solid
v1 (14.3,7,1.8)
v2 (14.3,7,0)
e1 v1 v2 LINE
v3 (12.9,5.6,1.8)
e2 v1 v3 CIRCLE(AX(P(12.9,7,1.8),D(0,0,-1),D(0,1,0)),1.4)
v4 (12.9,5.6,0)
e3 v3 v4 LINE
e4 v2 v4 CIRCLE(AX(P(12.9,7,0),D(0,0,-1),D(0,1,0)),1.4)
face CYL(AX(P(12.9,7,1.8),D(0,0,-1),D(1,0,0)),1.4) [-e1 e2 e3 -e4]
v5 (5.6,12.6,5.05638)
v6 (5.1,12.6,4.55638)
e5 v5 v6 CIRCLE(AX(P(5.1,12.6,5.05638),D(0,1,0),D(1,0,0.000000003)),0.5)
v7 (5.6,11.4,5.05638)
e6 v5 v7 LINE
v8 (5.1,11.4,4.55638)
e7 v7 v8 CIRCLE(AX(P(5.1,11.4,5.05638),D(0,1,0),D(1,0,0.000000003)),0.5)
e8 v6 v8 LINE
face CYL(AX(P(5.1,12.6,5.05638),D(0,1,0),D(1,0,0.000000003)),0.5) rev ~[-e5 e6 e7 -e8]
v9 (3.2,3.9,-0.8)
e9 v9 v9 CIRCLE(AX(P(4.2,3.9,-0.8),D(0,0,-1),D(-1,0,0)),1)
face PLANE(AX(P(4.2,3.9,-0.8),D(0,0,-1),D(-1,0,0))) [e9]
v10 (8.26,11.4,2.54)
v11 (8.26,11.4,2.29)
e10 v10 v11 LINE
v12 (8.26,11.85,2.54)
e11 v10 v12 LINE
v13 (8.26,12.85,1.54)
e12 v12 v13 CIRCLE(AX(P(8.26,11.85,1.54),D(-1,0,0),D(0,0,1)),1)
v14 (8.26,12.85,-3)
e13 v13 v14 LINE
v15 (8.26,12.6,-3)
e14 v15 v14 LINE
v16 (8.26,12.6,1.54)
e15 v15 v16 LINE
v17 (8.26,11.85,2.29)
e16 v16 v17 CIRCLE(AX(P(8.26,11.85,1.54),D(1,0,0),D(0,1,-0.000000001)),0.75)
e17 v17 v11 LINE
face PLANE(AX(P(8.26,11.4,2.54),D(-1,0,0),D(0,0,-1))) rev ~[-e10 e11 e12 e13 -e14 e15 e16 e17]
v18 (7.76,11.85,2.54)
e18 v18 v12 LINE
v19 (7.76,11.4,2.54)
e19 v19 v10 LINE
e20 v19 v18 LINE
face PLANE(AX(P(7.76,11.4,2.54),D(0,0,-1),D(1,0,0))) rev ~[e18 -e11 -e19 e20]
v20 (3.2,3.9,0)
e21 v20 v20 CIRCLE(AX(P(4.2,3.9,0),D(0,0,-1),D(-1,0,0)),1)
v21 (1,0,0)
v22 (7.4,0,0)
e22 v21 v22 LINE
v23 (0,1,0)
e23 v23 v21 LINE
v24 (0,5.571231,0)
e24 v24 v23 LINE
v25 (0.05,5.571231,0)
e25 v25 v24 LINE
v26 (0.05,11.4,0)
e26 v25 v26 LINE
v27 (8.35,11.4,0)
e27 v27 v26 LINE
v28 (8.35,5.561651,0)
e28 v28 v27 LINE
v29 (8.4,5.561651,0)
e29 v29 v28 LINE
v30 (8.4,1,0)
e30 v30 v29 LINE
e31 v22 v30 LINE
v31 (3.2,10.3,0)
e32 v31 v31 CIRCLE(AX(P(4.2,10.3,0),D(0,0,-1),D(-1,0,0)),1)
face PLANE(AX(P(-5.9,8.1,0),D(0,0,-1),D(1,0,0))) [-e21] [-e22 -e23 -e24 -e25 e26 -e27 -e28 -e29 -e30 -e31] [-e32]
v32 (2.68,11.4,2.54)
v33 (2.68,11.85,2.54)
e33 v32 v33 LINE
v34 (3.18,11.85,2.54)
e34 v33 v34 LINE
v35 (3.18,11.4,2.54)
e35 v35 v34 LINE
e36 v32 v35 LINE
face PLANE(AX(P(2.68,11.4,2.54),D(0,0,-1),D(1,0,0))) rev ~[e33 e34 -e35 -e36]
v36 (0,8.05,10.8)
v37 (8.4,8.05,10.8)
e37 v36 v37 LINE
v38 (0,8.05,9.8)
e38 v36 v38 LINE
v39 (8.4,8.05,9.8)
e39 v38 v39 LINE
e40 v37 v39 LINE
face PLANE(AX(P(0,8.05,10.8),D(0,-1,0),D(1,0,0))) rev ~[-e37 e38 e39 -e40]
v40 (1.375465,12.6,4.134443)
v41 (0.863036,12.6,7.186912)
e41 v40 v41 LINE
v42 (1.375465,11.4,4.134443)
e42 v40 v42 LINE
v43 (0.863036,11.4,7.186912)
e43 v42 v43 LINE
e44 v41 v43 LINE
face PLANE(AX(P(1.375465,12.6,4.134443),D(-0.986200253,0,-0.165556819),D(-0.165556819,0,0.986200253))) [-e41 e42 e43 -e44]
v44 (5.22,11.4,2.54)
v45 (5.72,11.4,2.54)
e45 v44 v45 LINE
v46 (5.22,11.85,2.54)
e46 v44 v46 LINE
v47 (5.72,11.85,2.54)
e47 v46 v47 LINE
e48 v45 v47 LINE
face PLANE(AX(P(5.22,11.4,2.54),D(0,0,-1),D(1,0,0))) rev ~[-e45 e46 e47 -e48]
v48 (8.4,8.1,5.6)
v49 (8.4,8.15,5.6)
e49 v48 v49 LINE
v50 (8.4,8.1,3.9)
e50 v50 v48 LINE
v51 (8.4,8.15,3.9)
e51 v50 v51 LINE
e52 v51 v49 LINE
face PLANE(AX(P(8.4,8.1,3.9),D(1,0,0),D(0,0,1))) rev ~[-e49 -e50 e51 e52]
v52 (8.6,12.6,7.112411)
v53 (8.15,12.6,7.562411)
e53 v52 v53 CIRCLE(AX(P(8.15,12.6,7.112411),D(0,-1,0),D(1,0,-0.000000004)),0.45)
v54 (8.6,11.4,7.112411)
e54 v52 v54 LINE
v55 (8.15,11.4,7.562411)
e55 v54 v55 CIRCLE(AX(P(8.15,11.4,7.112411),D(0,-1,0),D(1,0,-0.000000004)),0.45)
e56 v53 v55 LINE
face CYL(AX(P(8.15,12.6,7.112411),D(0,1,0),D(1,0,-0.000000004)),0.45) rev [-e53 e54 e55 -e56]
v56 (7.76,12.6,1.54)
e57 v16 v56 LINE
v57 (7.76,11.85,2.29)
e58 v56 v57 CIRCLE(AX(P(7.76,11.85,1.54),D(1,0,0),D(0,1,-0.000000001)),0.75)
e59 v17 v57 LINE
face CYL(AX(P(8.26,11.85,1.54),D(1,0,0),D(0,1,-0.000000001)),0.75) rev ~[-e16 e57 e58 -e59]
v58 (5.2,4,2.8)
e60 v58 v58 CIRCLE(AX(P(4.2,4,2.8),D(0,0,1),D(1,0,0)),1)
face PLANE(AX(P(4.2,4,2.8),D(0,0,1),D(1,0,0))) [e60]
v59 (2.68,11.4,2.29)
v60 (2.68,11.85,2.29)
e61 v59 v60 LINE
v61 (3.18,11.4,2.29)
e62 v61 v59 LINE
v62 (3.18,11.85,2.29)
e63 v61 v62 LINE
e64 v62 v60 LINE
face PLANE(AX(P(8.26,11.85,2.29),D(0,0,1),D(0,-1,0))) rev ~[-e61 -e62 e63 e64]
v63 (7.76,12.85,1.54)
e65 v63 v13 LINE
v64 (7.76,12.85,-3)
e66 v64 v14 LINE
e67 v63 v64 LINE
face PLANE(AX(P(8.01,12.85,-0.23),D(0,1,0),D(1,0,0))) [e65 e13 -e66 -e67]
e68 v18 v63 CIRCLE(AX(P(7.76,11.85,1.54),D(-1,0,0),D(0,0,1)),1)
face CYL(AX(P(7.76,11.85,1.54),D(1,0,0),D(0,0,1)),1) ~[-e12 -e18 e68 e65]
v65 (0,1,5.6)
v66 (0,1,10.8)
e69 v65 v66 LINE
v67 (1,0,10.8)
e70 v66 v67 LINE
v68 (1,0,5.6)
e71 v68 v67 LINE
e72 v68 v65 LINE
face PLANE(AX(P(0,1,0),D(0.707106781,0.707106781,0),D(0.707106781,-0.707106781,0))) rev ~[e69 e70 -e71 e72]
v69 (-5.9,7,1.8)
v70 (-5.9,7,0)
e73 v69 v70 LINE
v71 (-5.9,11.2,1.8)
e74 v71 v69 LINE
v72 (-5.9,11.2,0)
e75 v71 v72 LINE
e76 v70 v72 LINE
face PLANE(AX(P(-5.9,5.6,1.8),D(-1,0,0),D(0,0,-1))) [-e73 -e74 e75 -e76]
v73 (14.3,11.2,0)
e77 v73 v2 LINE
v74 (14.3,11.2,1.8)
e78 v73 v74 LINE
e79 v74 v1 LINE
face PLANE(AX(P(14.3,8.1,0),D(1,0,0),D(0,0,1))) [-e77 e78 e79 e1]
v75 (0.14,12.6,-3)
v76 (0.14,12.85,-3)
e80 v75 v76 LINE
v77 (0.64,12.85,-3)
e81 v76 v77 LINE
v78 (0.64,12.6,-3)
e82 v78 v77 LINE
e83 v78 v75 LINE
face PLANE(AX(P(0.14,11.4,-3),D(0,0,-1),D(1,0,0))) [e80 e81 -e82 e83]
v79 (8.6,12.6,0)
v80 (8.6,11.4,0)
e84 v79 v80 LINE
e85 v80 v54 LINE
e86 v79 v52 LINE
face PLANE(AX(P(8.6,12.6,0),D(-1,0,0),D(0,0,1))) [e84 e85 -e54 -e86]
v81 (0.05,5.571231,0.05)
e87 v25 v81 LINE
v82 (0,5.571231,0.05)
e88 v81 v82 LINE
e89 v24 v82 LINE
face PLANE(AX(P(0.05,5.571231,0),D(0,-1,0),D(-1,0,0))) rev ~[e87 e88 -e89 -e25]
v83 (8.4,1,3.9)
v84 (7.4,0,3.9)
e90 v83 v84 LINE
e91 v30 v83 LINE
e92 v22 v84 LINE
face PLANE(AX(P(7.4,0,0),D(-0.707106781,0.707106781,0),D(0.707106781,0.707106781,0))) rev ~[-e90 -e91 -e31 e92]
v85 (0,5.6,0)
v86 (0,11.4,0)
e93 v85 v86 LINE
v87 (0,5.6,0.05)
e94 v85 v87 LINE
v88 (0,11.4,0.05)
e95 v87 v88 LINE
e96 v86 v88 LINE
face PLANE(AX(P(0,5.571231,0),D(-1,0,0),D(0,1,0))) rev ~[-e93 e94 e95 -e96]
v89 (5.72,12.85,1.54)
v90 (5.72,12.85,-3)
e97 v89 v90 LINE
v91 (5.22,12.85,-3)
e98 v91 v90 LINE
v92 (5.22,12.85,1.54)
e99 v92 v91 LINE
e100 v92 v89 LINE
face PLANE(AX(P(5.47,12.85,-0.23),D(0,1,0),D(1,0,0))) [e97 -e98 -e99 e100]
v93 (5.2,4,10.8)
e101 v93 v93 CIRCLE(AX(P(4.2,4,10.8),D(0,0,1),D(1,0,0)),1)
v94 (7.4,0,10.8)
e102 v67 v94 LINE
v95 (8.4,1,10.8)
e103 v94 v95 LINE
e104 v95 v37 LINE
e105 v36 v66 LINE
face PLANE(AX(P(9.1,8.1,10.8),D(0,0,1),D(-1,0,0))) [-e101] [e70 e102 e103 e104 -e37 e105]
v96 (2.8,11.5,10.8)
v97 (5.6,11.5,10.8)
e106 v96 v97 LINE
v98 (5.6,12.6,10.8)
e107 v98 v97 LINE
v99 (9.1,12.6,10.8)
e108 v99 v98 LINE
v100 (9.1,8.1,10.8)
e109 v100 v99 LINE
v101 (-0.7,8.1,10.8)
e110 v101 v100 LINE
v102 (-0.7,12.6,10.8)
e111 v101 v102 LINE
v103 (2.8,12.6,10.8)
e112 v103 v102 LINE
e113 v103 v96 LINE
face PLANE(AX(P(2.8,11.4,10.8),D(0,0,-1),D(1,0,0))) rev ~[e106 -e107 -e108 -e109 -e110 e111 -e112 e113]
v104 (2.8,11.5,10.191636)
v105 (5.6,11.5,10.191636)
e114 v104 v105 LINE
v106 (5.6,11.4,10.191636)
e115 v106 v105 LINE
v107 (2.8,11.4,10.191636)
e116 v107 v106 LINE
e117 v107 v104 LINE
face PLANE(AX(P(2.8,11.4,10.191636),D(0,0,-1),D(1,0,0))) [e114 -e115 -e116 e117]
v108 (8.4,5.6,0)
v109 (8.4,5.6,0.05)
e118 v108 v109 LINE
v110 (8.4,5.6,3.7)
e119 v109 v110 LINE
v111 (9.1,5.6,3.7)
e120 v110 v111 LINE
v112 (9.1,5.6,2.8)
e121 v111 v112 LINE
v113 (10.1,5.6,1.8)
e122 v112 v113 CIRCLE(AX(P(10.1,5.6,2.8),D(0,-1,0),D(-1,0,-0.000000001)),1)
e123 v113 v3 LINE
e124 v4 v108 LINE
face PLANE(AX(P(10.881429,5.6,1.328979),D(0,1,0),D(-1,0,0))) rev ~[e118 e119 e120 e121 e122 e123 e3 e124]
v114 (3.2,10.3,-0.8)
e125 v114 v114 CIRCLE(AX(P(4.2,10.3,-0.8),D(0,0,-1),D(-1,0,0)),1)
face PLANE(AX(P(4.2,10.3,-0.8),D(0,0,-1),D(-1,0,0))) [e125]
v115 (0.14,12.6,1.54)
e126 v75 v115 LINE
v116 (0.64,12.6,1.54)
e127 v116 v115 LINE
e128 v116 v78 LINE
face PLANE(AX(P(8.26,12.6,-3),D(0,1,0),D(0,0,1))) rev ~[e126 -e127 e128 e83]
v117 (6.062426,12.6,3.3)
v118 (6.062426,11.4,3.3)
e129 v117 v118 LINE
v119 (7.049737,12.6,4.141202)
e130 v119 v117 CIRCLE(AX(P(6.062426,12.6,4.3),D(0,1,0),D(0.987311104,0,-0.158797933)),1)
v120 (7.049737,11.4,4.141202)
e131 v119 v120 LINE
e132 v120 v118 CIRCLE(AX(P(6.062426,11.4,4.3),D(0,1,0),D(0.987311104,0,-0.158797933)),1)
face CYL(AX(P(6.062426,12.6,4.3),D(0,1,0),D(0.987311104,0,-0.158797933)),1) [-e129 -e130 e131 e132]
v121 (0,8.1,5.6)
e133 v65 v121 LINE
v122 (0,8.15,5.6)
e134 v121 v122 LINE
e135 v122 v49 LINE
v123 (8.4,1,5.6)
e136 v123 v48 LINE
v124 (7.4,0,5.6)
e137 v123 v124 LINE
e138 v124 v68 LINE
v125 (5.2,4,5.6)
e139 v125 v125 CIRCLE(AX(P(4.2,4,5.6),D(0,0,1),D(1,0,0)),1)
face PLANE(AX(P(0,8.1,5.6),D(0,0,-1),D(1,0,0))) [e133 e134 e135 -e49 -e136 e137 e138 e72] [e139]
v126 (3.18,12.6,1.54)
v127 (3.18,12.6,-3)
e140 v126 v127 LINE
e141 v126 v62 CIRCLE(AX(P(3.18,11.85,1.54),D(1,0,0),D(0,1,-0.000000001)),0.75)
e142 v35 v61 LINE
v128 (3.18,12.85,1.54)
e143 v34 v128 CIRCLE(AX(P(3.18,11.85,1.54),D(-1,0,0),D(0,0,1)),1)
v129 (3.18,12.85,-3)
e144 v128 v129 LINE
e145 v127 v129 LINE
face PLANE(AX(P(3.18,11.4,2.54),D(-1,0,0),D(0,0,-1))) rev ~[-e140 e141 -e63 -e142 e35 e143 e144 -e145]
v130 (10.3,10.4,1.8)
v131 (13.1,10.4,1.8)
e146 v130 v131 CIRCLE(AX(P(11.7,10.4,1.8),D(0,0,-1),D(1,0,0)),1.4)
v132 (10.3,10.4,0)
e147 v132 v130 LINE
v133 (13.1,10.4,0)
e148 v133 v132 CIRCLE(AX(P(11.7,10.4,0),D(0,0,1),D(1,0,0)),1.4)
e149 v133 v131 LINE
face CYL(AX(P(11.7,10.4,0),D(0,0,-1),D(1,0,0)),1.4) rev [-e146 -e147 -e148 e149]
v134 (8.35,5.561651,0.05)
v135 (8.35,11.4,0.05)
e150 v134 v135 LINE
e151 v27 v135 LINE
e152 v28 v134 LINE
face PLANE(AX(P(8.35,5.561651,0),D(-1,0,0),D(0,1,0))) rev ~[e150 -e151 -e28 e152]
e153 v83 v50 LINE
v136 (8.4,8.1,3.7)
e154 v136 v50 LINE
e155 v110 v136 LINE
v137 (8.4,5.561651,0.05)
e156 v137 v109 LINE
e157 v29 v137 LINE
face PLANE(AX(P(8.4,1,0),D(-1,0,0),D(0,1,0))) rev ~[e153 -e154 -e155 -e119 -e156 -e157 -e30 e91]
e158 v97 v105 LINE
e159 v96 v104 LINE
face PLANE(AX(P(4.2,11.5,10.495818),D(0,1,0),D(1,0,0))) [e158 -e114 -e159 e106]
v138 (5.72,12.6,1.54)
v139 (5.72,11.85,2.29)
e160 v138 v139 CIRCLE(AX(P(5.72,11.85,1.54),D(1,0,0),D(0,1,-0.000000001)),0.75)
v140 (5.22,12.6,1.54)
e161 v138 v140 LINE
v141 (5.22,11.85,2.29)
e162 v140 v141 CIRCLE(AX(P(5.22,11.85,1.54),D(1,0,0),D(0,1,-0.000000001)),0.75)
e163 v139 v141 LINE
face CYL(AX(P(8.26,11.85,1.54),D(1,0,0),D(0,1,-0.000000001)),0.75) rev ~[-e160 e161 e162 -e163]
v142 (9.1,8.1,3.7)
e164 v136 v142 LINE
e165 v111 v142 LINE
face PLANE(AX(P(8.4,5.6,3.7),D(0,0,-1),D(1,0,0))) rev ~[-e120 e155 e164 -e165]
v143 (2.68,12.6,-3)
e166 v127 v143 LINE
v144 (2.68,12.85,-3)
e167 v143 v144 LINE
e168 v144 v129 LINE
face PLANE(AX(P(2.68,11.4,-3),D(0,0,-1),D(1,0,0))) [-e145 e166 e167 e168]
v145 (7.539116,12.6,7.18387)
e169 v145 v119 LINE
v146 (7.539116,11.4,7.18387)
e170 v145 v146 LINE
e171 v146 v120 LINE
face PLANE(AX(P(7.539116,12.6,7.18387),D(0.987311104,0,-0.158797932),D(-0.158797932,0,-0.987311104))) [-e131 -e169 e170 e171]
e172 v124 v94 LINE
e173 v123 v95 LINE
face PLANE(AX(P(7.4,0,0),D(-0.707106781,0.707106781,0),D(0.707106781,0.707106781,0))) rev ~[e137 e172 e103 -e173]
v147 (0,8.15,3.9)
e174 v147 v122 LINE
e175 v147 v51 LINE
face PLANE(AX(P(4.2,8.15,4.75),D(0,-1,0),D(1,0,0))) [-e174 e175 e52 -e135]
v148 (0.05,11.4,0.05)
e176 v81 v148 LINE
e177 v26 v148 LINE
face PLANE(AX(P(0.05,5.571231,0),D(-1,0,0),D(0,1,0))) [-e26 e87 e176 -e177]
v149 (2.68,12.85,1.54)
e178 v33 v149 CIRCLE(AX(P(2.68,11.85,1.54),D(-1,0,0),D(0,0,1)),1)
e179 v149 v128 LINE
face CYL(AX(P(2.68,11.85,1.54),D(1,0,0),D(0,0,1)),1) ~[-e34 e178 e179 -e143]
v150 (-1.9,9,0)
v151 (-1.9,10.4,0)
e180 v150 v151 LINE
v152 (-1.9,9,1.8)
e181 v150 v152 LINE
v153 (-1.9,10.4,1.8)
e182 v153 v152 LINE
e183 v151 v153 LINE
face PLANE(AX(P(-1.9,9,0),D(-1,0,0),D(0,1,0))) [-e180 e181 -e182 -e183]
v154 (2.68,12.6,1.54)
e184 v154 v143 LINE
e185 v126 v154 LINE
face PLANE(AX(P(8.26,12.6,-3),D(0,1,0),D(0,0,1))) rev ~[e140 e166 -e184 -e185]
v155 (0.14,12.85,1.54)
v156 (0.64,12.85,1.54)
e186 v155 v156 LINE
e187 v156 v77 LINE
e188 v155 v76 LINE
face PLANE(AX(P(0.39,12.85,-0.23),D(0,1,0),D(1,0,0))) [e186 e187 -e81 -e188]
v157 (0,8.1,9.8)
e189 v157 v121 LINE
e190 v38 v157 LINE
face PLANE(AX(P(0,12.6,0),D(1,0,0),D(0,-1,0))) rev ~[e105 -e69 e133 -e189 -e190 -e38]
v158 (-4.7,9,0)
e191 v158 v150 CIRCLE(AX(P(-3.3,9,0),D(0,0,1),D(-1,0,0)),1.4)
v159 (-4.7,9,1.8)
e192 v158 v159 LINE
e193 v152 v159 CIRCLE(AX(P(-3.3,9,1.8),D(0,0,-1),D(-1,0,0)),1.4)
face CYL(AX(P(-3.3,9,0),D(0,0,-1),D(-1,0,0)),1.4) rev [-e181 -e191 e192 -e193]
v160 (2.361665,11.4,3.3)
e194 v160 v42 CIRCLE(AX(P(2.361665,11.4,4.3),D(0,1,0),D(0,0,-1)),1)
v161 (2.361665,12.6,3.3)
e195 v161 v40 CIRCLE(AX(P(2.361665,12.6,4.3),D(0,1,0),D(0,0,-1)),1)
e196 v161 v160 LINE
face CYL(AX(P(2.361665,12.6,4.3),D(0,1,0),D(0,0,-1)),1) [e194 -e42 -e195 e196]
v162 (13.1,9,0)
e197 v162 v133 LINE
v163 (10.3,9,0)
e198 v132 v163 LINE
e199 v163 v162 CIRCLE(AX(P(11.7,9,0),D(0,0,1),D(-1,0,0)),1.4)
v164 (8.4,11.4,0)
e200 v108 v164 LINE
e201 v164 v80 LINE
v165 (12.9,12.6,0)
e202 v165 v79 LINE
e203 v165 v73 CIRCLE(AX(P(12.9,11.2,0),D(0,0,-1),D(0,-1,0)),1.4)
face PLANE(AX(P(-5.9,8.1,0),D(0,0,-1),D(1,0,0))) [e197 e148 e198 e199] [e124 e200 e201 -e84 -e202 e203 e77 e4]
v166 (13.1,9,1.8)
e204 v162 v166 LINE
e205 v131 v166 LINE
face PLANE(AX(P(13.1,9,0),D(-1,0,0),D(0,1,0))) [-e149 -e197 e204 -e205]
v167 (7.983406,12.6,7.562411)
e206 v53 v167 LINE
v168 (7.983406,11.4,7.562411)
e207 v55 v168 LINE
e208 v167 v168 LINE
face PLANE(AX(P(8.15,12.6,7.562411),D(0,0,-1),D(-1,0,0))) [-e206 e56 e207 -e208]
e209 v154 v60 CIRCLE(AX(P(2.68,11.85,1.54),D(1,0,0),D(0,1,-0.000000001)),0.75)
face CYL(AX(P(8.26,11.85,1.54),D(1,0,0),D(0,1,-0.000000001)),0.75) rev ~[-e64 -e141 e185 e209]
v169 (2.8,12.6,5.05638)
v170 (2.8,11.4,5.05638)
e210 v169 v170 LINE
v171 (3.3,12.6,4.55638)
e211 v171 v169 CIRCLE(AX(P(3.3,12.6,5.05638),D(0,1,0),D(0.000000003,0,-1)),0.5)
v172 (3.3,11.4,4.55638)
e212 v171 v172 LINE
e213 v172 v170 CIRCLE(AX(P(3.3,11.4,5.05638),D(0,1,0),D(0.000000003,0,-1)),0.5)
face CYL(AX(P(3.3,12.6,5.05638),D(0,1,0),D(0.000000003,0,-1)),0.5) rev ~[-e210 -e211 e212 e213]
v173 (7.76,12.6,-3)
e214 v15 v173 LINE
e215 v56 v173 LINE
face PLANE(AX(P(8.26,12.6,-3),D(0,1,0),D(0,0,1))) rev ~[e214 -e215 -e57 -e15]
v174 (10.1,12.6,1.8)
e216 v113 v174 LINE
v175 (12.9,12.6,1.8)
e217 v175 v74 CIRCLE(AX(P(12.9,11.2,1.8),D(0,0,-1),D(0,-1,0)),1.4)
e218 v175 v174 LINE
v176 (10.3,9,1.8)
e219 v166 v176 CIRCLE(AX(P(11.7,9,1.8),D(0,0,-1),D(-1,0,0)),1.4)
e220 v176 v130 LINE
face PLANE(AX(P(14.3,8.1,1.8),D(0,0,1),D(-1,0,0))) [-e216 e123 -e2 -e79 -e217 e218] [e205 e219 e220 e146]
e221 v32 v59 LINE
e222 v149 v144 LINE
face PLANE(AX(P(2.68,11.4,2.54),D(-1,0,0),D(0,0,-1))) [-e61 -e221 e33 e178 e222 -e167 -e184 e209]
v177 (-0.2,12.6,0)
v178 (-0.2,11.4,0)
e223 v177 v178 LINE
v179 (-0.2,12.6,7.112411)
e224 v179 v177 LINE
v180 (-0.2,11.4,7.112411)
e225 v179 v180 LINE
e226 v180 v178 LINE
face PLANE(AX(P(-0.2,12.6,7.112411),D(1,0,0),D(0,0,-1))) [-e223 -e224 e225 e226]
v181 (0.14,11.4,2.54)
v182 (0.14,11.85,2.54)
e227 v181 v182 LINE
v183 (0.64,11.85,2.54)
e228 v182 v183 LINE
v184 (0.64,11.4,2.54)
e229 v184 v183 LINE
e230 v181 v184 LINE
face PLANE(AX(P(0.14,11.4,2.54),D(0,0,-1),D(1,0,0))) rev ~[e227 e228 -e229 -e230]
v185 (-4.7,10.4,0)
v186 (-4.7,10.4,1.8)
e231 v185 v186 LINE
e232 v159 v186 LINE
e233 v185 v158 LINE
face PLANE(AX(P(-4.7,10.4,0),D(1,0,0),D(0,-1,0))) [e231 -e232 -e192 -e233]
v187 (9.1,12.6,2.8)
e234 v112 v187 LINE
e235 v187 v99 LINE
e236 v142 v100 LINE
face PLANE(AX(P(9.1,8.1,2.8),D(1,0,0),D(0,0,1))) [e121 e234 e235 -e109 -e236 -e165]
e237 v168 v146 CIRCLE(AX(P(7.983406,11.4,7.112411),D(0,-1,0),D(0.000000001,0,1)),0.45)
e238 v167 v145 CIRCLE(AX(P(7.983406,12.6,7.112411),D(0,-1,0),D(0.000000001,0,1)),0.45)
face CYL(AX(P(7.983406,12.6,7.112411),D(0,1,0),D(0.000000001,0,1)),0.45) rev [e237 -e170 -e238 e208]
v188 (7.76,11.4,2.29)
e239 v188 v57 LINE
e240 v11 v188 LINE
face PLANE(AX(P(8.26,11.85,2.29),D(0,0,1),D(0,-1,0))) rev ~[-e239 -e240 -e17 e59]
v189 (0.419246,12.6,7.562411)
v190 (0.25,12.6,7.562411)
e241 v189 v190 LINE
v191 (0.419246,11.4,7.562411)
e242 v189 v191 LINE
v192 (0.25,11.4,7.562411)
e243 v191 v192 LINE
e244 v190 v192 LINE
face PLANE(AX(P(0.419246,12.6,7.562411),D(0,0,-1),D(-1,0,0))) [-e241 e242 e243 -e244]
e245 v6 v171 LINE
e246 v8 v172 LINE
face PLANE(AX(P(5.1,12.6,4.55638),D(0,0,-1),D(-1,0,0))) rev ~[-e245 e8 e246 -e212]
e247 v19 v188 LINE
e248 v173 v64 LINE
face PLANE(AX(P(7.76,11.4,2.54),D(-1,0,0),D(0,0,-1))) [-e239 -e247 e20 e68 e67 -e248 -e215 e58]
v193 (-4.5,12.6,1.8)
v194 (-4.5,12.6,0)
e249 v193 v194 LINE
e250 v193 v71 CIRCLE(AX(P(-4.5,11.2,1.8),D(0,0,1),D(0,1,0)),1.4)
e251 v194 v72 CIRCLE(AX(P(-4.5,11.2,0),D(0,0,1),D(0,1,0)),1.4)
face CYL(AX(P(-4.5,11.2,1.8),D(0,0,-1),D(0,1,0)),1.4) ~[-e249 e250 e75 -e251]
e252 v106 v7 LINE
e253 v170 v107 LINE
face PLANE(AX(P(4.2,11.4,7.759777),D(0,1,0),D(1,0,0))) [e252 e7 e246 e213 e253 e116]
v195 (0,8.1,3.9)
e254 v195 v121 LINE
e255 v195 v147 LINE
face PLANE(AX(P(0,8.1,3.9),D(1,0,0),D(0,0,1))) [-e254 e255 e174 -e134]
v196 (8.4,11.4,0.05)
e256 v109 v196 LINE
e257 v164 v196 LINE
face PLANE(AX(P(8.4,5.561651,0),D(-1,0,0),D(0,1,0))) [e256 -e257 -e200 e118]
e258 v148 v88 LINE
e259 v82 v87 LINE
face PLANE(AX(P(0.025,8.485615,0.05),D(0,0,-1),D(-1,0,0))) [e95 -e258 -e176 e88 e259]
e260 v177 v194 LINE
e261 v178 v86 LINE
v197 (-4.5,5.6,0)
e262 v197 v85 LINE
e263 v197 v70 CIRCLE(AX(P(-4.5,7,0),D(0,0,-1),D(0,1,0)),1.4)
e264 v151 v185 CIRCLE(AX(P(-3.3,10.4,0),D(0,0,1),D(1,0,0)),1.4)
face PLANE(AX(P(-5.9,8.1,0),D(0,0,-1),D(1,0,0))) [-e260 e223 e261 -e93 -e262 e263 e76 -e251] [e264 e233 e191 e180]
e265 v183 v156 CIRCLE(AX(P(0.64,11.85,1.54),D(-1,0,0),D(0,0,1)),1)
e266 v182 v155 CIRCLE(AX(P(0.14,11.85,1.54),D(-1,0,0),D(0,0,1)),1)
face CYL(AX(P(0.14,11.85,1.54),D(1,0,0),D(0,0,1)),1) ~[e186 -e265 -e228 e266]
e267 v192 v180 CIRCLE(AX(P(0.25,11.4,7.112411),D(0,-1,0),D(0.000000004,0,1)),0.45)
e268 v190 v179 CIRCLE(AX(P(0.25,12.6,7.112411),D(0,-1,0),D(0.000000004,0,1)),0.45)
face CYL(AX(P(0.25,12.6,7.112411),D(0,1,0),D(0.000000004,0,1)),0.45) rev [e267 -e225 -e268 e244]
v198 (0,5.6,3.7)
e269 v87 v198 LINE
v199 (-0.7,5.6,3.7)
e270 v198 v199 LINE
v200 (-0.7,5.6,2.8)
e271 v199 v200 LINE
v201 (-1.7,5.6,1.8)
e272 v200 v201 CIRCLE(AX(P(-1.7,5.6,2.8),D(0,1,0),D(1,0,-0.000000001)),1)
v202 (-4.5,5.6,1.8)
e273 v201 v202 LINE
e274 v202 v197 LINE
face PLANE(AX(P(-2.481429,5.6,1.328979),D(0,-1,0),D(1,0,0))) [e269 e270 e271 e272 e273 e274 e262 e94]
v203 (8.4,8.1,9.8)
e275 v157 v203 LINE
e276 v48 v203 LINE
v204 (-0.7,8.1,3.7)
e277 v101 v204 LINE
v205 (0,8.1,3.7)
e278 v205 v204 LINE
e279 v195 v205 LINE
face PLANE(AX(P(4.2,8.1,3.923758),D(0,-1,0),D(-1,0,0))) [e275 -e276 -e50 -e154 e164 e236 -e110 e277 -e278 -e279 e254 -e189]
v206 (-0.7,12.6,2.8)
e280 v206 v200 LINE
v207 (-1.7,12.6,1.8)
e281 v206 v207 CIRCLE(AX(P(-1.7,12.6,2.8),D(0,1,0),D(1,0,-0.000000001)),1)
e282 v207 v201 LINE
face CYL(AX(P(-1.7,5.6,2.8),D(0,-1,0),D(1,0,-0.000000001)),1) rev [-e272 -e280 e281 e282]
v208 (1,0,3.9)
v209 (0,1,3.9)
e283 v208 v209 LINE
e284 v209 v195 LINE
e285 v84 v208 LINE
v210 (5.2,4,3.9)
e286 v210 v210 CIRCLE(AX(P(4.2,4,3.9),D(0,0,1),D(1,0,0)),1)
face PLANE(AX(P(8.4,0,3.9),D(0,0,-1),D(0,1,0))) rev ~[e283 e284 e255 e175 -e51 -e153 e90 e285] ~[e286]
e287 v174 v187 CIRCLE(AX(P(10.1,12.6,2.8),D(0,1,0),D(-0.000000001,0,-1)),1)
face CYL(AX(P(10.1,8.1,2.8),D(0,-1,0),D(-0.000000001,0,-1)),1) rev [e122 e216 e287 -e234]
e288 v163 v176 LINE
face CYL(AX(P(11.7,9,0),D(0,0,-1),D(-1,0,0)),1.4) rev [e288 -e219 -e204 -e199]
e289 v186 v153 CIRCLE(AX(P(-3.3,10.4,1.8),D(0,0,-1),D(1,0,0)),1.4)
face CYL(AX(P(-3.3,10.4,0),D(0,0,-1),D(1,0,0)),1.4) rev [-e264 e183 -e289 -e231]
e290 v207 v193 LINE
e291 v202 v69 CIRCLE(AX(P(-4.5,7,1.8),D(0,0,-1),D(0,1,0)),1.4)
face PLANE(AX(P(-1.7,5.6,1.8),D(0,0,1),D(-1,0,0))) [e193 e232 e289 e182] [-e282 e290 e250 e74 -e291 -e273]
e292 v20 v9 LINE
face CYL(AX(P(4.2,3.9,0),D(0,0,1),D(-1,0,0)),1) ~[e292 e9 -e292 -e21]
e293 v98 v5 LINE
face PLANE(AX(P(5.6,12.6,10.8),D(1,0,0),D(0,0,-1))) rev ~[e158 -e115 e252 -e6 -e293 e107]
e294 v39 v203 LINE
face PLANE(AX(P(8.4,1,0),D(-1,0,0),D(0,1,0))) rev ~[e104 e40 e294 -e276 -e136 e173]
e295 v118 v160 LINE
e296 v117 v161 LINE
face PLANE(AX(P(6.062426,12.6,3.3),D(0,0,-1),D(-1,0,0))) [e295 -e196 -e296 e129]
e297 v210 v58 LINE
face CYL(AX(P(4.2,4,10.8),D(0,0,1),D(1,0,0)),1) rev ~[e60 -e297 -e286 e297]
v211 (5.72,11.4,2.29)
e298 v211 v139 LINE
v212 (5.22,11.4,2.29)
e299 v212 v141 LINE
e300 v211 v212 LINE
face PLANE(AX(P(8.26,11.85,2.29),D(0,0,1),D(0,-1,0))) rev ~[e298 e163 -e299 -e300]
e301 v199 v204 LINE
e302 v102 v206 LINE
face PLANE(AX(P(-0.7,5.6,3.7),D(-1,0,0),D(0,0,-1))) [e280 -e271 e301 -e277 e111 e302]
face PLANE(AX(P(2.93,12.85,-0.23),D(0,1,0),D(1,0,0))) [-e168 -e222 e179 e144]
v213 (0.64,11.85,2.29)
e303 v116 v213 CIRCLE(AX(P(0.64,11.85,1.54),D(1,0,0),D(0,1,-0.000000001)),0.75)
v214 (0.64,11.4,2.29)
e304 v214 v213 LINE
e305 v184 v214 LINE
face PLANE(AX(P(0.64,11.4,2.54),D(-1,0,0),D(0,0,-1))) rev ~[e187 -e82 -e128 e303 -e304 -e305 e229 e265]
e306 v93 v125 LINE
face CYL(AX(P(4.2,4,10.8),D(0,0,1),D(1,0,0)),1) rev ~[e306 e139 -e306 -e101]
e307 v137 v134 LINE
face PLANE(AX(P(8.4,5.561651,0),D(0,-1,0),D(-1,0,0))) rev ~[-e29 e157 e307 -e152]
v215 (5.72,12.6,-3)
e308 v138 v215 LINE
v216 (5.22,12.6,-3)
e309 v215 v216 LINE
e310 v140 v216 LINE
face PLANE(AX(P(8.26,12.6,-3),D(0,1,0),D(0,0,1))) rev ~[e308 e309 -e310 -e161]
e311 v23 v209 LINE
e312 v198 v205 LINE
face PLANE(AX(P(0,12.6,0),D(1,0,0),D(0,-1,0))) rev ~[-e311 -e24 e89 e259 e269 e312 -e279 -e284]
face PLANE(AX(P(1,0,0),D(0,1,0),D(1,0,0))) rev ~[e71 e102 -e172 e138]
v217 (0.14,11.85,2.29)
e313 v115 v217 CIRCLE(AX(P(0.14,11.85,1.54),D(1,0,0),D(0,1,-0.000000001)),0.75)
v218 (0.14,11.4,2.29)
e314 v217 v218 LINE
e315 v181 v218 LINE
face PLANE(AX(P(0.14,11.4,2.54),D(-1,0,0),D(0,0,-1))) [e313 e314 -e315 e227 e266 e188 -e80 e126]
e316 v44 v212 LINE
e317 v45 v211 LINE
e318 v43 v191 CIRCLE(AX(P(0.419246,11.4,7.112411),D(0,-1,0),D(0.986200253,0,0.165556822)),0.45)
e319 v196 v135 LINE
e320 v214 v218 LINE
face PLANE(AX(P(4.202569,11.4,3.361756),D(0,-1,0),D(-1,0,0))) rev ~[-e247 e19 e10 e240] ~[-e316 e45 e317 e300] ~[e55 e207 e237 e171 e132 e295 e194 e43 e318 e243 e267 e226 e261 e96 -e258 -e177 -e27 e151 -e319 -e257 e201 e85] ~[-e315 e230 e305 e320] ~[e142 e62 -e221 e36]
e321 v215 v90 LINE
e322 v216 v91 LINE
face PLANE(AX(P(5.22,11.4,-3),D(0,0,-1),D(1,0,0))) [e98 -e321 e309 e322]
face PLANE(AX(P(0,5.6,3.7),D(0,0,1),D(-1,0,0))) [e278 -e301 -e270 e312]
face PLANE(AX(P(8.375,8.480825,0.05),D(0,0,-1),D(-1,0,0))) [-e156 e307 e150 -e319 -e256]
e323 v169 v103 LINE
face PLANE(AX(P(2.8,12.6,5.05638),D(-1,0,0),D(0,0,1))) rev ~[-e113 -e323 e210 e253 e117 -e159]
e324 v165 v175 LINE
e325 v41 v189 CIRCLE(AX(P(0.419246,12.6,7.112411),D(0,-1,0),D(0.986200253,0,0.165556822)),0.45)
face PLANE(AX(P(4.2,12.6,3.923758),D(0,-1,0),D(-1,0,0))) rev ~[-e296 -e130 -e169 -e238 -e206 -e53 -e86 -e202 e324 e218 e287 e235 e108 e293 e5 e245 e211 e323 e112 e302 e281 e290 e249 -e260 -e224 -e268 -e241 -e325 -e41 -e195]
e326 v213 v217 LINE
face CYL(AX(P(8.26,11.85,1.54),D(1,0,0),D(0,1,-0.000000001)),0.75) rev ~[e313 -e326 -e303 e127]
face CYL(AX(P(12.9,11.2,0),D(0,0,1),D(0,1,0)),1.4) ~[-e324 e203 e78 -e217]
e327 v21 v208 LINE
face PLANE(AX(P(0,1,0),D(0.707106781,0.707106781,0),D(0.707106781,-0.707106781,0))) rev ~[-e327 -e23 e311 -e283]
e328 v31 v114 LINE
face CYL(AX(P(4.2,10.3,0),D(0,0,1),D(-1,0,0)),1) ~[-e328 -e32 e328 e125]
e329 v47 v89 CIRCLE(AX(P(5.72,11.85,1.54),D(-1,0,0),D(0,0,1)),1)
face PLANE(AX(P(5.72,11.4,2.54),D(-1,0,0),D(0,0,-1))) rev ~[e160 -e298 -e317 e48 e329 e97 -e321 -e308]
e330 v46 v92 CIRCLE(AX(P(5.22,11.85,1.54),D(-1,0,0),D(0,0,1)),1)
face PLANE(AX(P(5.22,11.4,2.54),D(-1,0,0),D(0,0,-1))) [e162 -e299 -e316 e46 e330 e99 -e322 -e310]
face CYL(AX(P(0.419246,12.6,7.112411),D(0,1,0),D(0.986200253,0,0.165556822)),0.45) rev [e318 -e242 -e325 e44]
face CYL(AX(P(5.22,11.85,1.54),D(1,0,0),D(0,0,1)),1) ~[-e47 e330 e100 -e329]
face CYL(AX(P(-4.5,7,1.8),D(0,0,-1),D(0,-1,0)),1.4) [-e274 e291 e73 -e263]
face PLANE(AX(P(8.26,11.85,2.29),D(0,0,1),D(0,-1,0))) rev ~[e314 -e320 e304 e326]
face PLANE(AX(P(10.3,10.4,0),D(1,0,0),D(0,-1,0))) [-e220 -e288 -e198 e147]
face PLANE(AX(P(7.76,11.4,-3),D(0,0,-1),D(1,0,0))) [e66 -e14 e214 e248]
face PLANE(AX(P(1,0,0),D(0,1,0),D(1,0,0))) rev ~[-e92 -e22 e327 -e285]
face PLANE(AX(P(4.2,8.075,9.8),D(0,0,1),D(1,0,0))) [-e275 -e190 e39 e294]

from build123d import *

# Parameters (mm, degrees)
EXTRUDE_1_DEPTH      = 10.8
SKETCH_2_R           = 1
EXTRUDE_2_DEPTH      = 0.8
SKETCH_3_W           = 1.7
SKETCH_3_H           = 8.1
CUT_EXTRUDE_1_DEPTH  = 17.8
EXTRUDE_START        = -4.5
EXTRUDE_3_DEPTH      = 4.5
SKETCH_5_W           = 8.4
SKETCH_5_H           = 0.05
CUT_EXTRUDE_2_DEPTH  = 1
SKETCH_6_R           = 1
CUT_EXTRUDE_3_DEPTH  = 8
CUT_EXTRUDE_4_DEPTH  = 1.2
SKETCH_8_W           = 2.8
SKETCH_8_H           = 0.608363533
EXTRUDE_4_DEPTH      = 0.1
EXTRUDE_START_2      = 2.5
EXTRUDE_5_DEPTH      = 2.5
SKETCH_10_W          = 8.4
SKETCH_10_H          = 1.7
CUT_EXTRUDE_5_DEPTH  = 0.05
FILLET_1_R           = 1.4
SKETCH_11_W          = 0.05
SKETCH_11_H          = 5.83834946
SKETCH_11_H_2        = 5.828769054
CUT_EXTRUDE_8_DEPTH  = 0.05
CUT_EXTRUDE_9_DEPTH  = 4
SKETCH_13_W          = 0.5
SKETCH_13_H          = 5.54
EXTRUDE_6_DEPTH      = 1.45
FILLET_2_R           = 1
CUT_EXTRUDE_START    = -8.12
CUT_EXTRUDE_10_DEPTH = 8.12


with BuildPart() as part:
    # Эскиз1 → Бобышка-Вытянуть1 (new body)
    with BuildSketch(Plane.XY):
        Polygon((7.4, 0), (8.4, 1), (8.4, 12.6), (0, 12.6), (0, 1), (1, 0), align=None)
    extrude(amount=EXTRUDE_1_DEPTH)

    # Эскиз2 → Бобышка-Вытянуть2 (add)
    with BuildSketch(Plane(origin=(0, 0, 0), x_dir=(-1, 0, 0), z_dir=(0, 0, -1))):
        with Locations((-4.2, 10.3)):
            Circle(SKETCH_2_R)
        with Locations((-4.2, 3.9)):
            Circle(SKETCH_2_R)
    extrude(amount=EXTRUDE_2_DEPTH)

    # Эскиз3 → Вырез-Вытянуть1 (cut)
    with BuildSketch(Plane(origin=(8.4, 0, 0), x_dir=(0, 0, -1), z_dir=(1, 0, 0))):
        with Locations((-4.75, 4.05)):
            Rectangle(SKETCH_3_W, SKETCH_3_H)
    extrude(amount=-CUT_EXTRUDE_1_DEPTH, mode=Mode.SUBTRACT)

    # Эскиз4 → Бобышка-Вытянуть3 (add)
    with BuildSketch(Plane(origin=(0, 12.6, 0), x_dir=(1, 0, 0), z_dir=(0, 1, 0)).offset(EXTRUDE_START)):
        with BuildLine():
            Line((9.1, -10.8), (-0.7, -10.8))
            Line((-0.7, -10.8), (-0.7, -2.8))
            ThreePointArc((-0.7, -2.8), (-0.992893219, -2.092893219), (-1.7, -1.8))
            Line((-1.7, -1.8), (-5.9, -1.8))
            Line((-5.9, -1.8), (-5.9, 0))
            Line((-5.9, 0), (14.3, 0))
            Line((14.3, 0), (14.3, -1.8))
            Line((14.3, -1.8), (10.1, -1.8))
            ThreePointArc((10.1, -1.8), (9.392893219, -2.092893219), (9.1, -2.8))
            Line((9.1, -2.8), (9.1, -10.8))
        make_face()
    extrude(amount=EXTRUDE_3_DEPTH)

    # Эскиз5 → Вырез-Вытянуть2 (cut)
    with BuildSketch(Plane.XY.offset(10.8)):
        with Locations((4.2, 8.075)):
            Rectangle(SKETCH_5_W, SKETCH_5_H)
    extrude(amount=-CUT_EXTRUDE_2_DEPTH, mode=Mode.SUBTRACT)

    # Эскиз6 → Вырез-Вытянуть3 (cut)
    with BuildSketch(Plane.XY.offset(10.8)):
        with Locations((4.2, 4)):
            Circle(SKETCH_6_R)
    extrude(amount=-CUT_EXTRUDE_3_DEPTH, mode=Mode.SUBTRACT)

    # Эскиз7 → Вырез-Вытянуть4 (cut)
    with BuildSketch(Plane(origin=(0, 12.6, 0), x_dir=(1, 0, 0), z_dir=(0, 1, 0))):
        with BuildLine():
            Line((8.6, 0), (8.6, -7.112411136))
            ThreePointArc((8.6, -7.112411136), (8.468198052, -7.430609188), (8.15, -7.562411136))
            Line((8.15, -7.562411136), (7.983405928, -7.562411136))
            ThreePointArc((7.983405928, -7.562411136), (7.691564003, -7.454943311), (7.539115931, -7.183870205))
            Line((7.539115931, -7.183870205), (7.049736844, -4.141202068))
            ThreePointArc((7.049736844, -4.141202068), (6.710963351, -3.53881739), (6.062425739, -3.3))
            Line((6.062425739, -3.3), (2.361664993, -3.3))
            ThreePointArc((2.361664993, -3.3), (1.71573807, -3.536600753), (1.37546474, -4.13444318))
            Line((1.37546474, -4.13444318), (0.863036378, -7.186911705))
            ThreePointArc((0.863036378, -7.186911705), (0.709913379, -7.455940797), (0.419246264, -7.562411136))
            Line((0.419246264, -7.562411136), (0.25, -7.562411136))
            ThreePointArc((0.25, -7.562411136), (-0.068198052, -7.430609188), (-0.2, -7.112411136))
            Line((-0.2, -7.112411136), (-0.2, 0))
            Line((-0.2, 0), (8.6, 0))
        make_face()
        with BuildLine():
            Line((4.2, -10.8), (5.6, -10.8))
            Line((5.6, -10.8), (5.6, -5.056380156))
            ThreePointArc((5.6, -5.056380156), (5.453553391, -4.702826765), (5.1, -4.556380156))
            Line((5.1, -4.556380156), (3.3, -4.556380156))
            ThreePointArc((3.3, -4.556380156), (2.946446609, -4.702826765), (2.8, -5.056380156))
            Line((2.8, -5.056380156), (2.8, -10.8))
            Line((2.8, -10.8), (4.2, -10.8))
        make_face()
    extrude(amount=-CUT_EXTRUDE_4_DEPTH, mode=Mode.SUBTRACT)

    # Эскиз8 → Бобышка-Вытянуть4 (add)
    with BuildSketch(Plane(origin=(0, 11.4, 0), x_dir=(1, 0, 0), z_dir=(0, 1, 0))):
        with Locations((4.2, -10.495818233)):
            Rectangle(SKETCH_8_W, SKETCH_8_H)
    extrude(amount=EXTRUDE_4_DEPTH)

    # Эскиз9 → Бобышка-Вытянуть5 (add)
    with BuildSketch(Plane.XZ.offset(-8.1).offset(EXTRUDE_START_2)):
        with BuildLine():
            Line((0, 0), (0, 3.7))
            Line((0, 3.7), (-0.7, 3.7))
            Line((-0.7, 3.7), (-0.7, 2.8))
            ThreePointArc((-0.7, 2.8), (-0.992893219, 2.092893219), (-1.7, 1.8))
            Line((-1.7, 1.8), (-5.9, 1.8))
            Line((-5.9, 1.8), (-5.9, 0))
            Line((-5.9, 0), (0, 0))
        make_face()
        with BuildLine():
            Line((14.3, 0), (8.4, 0))
            Line((8.4, 0), (8.4, 3.7))
            Line((8.4, 3.7), (9.1, 3.7))
            Line((9.1, 3.7), (9.1, 2.8))
            ThreePointArc((9.1, 2.8), (9.392893219, 2.092893219), (10.1, 1.8))
            Line((10.1, 1.8), (14.3, 1.8))
            Line((14.3, 1.8), (14.3, 0))
        make_face()
    extrude(amount=-EXTRUDE_5_DEPTH)

    # Эскиз10 → Вырез-Вытянуть5 (cut)
    with BuildSketch(Plane.XZ.offset(-8.1)):
        with Locations((4.2, 4.75)):
            Rectangle(SKETCH_10_W, SKETCH_10_H)
    extrude(amount=-CUT_EXTRUDE_5_DEPTH, mode=Mode.SUBTRACT)

    # Скругление1
    fillet_1_edges = [part.edges().sort_by_distance(p)[0] for p in [
        (-5.9, 5.6, 0.9),
        (14.3, 5.6, 0.9),
        (14.3, 12.6, 0.9),
        (-5.9, 12.6, 0.9),
    ]]
    fillet(fillet_1_edges, radius=FILLET_1_R)

    # Эскиз11 → Вырез-Вытянуть8 (cut)
    with BuildSketch(Plane(origin=(0, 0, 0), x_dir=(-1, 0, 0), z_dir=(0, 0, -1))):
        with Locations((-8.375, 8.48082527)):
            Rectangle(SKETCH_11_W, SKETCH_11_H)
        with Locations((-0.025, 8.485615473)):
            Rectangle(SKETCH_11_W, SKETCH_11_H_2)
    extrude(amount=-CUT_EXTRUDE_8_DEPTH, mode=Mode.SUBTRACT)

    # Эскиз12 → Вырез-Вытянуть9 (cut)
    with BuildSketch(Plane(origin=(0, 0, 0), x_dir=(-1, 0, 0), z_dir=(0, 0, -1))):
        with BuildLine():
            Line((1.9, 9), (1.9, 10.4))
            ThreePointArc((1.9, 10.4), (3.3, 11.8), (4.7, 10.4))
            Line((4.7, 10.4), (4.7, 9))
            ThreePointArc((4.7, 9), (3.3, 7.6), (1.9, 9))
        make_face()
        with BuildLine():
            Line((-10.3, 10.4), (-10.3, 9))
            ThreePointArc((-10.3, 9), (-11.7, 7.6), (-13.1, 9))
            Line((-13.1, 9), (-13.1, 10.4))
            ThreePointArc((-13.1, 10.4), (-11.7, 11.8), (-10.3, 10.4))
        make_face()
    extrude(amount=-CUT_EXTRUDE_9_DEPTH, mode=Mode.SUBTRACT)

    # Эскиз13 → Бобышка-Вытянуть6 (add)
    with BuildSketch(Plane(origin=(0, 11.4, 0), x_dir=(1, 0, 0), z_dir=(0, 1, 0))):
        with Locations((5.47, 0.23)):
            Rectangle(SKETCH_13_W, SKETCH_13_H)
        with Locations((8.01, 0.23)):
            Rectangle(SKETCH_13_W, SKETCH_13_H)
        with Locations((2.93, 0.23)):
            Rectangle(SKETCH_13_W, SKETCH_13_H)
        with Locations((0.39, 0.23)):
            Rectangle(SKETCH_13_W, SKETCH_13_H)
    extrude(amount=EXTRUDE_6_DEPTH)

    # Скругление2
    fillet_2_edges = [part.edges().sort_by_distance(p)[0] for p in [
        (5.47, 12.85, 2.54),
        (2.93, 12.85, 2.54),
        (0.39, 12.85, 2.54),
        (8.01, 12.85, 2.54),
    ]]
    fillet(fillet_2_edges, radius=FILLET_2_R)

    # Эскиз14 → Вырез-Вытянуть10 (cut)
    with BuildSketch(Plane.ZY.offset(-0.14).offset(CUT_EXTRUDE_START)):
        with BuildLine():
            Line((-3, 12.6), (1.54, 12.6))
            ThreePointArc((1.54, 12.6), (2.070330086, 12.380330086), (2.29, 11.85))
            Line((2.29, 11.85), (2.29, 11.4))
            Line((2.29, 11.4), (-3, 11.4))
            Line((-3, 11.4), (-3, 12.6))
        make_face()
    extrude(amount=CUT_EXTRUDE_10_DEPTH, mode=Mode.SUBTRACT)


solid = part.part
